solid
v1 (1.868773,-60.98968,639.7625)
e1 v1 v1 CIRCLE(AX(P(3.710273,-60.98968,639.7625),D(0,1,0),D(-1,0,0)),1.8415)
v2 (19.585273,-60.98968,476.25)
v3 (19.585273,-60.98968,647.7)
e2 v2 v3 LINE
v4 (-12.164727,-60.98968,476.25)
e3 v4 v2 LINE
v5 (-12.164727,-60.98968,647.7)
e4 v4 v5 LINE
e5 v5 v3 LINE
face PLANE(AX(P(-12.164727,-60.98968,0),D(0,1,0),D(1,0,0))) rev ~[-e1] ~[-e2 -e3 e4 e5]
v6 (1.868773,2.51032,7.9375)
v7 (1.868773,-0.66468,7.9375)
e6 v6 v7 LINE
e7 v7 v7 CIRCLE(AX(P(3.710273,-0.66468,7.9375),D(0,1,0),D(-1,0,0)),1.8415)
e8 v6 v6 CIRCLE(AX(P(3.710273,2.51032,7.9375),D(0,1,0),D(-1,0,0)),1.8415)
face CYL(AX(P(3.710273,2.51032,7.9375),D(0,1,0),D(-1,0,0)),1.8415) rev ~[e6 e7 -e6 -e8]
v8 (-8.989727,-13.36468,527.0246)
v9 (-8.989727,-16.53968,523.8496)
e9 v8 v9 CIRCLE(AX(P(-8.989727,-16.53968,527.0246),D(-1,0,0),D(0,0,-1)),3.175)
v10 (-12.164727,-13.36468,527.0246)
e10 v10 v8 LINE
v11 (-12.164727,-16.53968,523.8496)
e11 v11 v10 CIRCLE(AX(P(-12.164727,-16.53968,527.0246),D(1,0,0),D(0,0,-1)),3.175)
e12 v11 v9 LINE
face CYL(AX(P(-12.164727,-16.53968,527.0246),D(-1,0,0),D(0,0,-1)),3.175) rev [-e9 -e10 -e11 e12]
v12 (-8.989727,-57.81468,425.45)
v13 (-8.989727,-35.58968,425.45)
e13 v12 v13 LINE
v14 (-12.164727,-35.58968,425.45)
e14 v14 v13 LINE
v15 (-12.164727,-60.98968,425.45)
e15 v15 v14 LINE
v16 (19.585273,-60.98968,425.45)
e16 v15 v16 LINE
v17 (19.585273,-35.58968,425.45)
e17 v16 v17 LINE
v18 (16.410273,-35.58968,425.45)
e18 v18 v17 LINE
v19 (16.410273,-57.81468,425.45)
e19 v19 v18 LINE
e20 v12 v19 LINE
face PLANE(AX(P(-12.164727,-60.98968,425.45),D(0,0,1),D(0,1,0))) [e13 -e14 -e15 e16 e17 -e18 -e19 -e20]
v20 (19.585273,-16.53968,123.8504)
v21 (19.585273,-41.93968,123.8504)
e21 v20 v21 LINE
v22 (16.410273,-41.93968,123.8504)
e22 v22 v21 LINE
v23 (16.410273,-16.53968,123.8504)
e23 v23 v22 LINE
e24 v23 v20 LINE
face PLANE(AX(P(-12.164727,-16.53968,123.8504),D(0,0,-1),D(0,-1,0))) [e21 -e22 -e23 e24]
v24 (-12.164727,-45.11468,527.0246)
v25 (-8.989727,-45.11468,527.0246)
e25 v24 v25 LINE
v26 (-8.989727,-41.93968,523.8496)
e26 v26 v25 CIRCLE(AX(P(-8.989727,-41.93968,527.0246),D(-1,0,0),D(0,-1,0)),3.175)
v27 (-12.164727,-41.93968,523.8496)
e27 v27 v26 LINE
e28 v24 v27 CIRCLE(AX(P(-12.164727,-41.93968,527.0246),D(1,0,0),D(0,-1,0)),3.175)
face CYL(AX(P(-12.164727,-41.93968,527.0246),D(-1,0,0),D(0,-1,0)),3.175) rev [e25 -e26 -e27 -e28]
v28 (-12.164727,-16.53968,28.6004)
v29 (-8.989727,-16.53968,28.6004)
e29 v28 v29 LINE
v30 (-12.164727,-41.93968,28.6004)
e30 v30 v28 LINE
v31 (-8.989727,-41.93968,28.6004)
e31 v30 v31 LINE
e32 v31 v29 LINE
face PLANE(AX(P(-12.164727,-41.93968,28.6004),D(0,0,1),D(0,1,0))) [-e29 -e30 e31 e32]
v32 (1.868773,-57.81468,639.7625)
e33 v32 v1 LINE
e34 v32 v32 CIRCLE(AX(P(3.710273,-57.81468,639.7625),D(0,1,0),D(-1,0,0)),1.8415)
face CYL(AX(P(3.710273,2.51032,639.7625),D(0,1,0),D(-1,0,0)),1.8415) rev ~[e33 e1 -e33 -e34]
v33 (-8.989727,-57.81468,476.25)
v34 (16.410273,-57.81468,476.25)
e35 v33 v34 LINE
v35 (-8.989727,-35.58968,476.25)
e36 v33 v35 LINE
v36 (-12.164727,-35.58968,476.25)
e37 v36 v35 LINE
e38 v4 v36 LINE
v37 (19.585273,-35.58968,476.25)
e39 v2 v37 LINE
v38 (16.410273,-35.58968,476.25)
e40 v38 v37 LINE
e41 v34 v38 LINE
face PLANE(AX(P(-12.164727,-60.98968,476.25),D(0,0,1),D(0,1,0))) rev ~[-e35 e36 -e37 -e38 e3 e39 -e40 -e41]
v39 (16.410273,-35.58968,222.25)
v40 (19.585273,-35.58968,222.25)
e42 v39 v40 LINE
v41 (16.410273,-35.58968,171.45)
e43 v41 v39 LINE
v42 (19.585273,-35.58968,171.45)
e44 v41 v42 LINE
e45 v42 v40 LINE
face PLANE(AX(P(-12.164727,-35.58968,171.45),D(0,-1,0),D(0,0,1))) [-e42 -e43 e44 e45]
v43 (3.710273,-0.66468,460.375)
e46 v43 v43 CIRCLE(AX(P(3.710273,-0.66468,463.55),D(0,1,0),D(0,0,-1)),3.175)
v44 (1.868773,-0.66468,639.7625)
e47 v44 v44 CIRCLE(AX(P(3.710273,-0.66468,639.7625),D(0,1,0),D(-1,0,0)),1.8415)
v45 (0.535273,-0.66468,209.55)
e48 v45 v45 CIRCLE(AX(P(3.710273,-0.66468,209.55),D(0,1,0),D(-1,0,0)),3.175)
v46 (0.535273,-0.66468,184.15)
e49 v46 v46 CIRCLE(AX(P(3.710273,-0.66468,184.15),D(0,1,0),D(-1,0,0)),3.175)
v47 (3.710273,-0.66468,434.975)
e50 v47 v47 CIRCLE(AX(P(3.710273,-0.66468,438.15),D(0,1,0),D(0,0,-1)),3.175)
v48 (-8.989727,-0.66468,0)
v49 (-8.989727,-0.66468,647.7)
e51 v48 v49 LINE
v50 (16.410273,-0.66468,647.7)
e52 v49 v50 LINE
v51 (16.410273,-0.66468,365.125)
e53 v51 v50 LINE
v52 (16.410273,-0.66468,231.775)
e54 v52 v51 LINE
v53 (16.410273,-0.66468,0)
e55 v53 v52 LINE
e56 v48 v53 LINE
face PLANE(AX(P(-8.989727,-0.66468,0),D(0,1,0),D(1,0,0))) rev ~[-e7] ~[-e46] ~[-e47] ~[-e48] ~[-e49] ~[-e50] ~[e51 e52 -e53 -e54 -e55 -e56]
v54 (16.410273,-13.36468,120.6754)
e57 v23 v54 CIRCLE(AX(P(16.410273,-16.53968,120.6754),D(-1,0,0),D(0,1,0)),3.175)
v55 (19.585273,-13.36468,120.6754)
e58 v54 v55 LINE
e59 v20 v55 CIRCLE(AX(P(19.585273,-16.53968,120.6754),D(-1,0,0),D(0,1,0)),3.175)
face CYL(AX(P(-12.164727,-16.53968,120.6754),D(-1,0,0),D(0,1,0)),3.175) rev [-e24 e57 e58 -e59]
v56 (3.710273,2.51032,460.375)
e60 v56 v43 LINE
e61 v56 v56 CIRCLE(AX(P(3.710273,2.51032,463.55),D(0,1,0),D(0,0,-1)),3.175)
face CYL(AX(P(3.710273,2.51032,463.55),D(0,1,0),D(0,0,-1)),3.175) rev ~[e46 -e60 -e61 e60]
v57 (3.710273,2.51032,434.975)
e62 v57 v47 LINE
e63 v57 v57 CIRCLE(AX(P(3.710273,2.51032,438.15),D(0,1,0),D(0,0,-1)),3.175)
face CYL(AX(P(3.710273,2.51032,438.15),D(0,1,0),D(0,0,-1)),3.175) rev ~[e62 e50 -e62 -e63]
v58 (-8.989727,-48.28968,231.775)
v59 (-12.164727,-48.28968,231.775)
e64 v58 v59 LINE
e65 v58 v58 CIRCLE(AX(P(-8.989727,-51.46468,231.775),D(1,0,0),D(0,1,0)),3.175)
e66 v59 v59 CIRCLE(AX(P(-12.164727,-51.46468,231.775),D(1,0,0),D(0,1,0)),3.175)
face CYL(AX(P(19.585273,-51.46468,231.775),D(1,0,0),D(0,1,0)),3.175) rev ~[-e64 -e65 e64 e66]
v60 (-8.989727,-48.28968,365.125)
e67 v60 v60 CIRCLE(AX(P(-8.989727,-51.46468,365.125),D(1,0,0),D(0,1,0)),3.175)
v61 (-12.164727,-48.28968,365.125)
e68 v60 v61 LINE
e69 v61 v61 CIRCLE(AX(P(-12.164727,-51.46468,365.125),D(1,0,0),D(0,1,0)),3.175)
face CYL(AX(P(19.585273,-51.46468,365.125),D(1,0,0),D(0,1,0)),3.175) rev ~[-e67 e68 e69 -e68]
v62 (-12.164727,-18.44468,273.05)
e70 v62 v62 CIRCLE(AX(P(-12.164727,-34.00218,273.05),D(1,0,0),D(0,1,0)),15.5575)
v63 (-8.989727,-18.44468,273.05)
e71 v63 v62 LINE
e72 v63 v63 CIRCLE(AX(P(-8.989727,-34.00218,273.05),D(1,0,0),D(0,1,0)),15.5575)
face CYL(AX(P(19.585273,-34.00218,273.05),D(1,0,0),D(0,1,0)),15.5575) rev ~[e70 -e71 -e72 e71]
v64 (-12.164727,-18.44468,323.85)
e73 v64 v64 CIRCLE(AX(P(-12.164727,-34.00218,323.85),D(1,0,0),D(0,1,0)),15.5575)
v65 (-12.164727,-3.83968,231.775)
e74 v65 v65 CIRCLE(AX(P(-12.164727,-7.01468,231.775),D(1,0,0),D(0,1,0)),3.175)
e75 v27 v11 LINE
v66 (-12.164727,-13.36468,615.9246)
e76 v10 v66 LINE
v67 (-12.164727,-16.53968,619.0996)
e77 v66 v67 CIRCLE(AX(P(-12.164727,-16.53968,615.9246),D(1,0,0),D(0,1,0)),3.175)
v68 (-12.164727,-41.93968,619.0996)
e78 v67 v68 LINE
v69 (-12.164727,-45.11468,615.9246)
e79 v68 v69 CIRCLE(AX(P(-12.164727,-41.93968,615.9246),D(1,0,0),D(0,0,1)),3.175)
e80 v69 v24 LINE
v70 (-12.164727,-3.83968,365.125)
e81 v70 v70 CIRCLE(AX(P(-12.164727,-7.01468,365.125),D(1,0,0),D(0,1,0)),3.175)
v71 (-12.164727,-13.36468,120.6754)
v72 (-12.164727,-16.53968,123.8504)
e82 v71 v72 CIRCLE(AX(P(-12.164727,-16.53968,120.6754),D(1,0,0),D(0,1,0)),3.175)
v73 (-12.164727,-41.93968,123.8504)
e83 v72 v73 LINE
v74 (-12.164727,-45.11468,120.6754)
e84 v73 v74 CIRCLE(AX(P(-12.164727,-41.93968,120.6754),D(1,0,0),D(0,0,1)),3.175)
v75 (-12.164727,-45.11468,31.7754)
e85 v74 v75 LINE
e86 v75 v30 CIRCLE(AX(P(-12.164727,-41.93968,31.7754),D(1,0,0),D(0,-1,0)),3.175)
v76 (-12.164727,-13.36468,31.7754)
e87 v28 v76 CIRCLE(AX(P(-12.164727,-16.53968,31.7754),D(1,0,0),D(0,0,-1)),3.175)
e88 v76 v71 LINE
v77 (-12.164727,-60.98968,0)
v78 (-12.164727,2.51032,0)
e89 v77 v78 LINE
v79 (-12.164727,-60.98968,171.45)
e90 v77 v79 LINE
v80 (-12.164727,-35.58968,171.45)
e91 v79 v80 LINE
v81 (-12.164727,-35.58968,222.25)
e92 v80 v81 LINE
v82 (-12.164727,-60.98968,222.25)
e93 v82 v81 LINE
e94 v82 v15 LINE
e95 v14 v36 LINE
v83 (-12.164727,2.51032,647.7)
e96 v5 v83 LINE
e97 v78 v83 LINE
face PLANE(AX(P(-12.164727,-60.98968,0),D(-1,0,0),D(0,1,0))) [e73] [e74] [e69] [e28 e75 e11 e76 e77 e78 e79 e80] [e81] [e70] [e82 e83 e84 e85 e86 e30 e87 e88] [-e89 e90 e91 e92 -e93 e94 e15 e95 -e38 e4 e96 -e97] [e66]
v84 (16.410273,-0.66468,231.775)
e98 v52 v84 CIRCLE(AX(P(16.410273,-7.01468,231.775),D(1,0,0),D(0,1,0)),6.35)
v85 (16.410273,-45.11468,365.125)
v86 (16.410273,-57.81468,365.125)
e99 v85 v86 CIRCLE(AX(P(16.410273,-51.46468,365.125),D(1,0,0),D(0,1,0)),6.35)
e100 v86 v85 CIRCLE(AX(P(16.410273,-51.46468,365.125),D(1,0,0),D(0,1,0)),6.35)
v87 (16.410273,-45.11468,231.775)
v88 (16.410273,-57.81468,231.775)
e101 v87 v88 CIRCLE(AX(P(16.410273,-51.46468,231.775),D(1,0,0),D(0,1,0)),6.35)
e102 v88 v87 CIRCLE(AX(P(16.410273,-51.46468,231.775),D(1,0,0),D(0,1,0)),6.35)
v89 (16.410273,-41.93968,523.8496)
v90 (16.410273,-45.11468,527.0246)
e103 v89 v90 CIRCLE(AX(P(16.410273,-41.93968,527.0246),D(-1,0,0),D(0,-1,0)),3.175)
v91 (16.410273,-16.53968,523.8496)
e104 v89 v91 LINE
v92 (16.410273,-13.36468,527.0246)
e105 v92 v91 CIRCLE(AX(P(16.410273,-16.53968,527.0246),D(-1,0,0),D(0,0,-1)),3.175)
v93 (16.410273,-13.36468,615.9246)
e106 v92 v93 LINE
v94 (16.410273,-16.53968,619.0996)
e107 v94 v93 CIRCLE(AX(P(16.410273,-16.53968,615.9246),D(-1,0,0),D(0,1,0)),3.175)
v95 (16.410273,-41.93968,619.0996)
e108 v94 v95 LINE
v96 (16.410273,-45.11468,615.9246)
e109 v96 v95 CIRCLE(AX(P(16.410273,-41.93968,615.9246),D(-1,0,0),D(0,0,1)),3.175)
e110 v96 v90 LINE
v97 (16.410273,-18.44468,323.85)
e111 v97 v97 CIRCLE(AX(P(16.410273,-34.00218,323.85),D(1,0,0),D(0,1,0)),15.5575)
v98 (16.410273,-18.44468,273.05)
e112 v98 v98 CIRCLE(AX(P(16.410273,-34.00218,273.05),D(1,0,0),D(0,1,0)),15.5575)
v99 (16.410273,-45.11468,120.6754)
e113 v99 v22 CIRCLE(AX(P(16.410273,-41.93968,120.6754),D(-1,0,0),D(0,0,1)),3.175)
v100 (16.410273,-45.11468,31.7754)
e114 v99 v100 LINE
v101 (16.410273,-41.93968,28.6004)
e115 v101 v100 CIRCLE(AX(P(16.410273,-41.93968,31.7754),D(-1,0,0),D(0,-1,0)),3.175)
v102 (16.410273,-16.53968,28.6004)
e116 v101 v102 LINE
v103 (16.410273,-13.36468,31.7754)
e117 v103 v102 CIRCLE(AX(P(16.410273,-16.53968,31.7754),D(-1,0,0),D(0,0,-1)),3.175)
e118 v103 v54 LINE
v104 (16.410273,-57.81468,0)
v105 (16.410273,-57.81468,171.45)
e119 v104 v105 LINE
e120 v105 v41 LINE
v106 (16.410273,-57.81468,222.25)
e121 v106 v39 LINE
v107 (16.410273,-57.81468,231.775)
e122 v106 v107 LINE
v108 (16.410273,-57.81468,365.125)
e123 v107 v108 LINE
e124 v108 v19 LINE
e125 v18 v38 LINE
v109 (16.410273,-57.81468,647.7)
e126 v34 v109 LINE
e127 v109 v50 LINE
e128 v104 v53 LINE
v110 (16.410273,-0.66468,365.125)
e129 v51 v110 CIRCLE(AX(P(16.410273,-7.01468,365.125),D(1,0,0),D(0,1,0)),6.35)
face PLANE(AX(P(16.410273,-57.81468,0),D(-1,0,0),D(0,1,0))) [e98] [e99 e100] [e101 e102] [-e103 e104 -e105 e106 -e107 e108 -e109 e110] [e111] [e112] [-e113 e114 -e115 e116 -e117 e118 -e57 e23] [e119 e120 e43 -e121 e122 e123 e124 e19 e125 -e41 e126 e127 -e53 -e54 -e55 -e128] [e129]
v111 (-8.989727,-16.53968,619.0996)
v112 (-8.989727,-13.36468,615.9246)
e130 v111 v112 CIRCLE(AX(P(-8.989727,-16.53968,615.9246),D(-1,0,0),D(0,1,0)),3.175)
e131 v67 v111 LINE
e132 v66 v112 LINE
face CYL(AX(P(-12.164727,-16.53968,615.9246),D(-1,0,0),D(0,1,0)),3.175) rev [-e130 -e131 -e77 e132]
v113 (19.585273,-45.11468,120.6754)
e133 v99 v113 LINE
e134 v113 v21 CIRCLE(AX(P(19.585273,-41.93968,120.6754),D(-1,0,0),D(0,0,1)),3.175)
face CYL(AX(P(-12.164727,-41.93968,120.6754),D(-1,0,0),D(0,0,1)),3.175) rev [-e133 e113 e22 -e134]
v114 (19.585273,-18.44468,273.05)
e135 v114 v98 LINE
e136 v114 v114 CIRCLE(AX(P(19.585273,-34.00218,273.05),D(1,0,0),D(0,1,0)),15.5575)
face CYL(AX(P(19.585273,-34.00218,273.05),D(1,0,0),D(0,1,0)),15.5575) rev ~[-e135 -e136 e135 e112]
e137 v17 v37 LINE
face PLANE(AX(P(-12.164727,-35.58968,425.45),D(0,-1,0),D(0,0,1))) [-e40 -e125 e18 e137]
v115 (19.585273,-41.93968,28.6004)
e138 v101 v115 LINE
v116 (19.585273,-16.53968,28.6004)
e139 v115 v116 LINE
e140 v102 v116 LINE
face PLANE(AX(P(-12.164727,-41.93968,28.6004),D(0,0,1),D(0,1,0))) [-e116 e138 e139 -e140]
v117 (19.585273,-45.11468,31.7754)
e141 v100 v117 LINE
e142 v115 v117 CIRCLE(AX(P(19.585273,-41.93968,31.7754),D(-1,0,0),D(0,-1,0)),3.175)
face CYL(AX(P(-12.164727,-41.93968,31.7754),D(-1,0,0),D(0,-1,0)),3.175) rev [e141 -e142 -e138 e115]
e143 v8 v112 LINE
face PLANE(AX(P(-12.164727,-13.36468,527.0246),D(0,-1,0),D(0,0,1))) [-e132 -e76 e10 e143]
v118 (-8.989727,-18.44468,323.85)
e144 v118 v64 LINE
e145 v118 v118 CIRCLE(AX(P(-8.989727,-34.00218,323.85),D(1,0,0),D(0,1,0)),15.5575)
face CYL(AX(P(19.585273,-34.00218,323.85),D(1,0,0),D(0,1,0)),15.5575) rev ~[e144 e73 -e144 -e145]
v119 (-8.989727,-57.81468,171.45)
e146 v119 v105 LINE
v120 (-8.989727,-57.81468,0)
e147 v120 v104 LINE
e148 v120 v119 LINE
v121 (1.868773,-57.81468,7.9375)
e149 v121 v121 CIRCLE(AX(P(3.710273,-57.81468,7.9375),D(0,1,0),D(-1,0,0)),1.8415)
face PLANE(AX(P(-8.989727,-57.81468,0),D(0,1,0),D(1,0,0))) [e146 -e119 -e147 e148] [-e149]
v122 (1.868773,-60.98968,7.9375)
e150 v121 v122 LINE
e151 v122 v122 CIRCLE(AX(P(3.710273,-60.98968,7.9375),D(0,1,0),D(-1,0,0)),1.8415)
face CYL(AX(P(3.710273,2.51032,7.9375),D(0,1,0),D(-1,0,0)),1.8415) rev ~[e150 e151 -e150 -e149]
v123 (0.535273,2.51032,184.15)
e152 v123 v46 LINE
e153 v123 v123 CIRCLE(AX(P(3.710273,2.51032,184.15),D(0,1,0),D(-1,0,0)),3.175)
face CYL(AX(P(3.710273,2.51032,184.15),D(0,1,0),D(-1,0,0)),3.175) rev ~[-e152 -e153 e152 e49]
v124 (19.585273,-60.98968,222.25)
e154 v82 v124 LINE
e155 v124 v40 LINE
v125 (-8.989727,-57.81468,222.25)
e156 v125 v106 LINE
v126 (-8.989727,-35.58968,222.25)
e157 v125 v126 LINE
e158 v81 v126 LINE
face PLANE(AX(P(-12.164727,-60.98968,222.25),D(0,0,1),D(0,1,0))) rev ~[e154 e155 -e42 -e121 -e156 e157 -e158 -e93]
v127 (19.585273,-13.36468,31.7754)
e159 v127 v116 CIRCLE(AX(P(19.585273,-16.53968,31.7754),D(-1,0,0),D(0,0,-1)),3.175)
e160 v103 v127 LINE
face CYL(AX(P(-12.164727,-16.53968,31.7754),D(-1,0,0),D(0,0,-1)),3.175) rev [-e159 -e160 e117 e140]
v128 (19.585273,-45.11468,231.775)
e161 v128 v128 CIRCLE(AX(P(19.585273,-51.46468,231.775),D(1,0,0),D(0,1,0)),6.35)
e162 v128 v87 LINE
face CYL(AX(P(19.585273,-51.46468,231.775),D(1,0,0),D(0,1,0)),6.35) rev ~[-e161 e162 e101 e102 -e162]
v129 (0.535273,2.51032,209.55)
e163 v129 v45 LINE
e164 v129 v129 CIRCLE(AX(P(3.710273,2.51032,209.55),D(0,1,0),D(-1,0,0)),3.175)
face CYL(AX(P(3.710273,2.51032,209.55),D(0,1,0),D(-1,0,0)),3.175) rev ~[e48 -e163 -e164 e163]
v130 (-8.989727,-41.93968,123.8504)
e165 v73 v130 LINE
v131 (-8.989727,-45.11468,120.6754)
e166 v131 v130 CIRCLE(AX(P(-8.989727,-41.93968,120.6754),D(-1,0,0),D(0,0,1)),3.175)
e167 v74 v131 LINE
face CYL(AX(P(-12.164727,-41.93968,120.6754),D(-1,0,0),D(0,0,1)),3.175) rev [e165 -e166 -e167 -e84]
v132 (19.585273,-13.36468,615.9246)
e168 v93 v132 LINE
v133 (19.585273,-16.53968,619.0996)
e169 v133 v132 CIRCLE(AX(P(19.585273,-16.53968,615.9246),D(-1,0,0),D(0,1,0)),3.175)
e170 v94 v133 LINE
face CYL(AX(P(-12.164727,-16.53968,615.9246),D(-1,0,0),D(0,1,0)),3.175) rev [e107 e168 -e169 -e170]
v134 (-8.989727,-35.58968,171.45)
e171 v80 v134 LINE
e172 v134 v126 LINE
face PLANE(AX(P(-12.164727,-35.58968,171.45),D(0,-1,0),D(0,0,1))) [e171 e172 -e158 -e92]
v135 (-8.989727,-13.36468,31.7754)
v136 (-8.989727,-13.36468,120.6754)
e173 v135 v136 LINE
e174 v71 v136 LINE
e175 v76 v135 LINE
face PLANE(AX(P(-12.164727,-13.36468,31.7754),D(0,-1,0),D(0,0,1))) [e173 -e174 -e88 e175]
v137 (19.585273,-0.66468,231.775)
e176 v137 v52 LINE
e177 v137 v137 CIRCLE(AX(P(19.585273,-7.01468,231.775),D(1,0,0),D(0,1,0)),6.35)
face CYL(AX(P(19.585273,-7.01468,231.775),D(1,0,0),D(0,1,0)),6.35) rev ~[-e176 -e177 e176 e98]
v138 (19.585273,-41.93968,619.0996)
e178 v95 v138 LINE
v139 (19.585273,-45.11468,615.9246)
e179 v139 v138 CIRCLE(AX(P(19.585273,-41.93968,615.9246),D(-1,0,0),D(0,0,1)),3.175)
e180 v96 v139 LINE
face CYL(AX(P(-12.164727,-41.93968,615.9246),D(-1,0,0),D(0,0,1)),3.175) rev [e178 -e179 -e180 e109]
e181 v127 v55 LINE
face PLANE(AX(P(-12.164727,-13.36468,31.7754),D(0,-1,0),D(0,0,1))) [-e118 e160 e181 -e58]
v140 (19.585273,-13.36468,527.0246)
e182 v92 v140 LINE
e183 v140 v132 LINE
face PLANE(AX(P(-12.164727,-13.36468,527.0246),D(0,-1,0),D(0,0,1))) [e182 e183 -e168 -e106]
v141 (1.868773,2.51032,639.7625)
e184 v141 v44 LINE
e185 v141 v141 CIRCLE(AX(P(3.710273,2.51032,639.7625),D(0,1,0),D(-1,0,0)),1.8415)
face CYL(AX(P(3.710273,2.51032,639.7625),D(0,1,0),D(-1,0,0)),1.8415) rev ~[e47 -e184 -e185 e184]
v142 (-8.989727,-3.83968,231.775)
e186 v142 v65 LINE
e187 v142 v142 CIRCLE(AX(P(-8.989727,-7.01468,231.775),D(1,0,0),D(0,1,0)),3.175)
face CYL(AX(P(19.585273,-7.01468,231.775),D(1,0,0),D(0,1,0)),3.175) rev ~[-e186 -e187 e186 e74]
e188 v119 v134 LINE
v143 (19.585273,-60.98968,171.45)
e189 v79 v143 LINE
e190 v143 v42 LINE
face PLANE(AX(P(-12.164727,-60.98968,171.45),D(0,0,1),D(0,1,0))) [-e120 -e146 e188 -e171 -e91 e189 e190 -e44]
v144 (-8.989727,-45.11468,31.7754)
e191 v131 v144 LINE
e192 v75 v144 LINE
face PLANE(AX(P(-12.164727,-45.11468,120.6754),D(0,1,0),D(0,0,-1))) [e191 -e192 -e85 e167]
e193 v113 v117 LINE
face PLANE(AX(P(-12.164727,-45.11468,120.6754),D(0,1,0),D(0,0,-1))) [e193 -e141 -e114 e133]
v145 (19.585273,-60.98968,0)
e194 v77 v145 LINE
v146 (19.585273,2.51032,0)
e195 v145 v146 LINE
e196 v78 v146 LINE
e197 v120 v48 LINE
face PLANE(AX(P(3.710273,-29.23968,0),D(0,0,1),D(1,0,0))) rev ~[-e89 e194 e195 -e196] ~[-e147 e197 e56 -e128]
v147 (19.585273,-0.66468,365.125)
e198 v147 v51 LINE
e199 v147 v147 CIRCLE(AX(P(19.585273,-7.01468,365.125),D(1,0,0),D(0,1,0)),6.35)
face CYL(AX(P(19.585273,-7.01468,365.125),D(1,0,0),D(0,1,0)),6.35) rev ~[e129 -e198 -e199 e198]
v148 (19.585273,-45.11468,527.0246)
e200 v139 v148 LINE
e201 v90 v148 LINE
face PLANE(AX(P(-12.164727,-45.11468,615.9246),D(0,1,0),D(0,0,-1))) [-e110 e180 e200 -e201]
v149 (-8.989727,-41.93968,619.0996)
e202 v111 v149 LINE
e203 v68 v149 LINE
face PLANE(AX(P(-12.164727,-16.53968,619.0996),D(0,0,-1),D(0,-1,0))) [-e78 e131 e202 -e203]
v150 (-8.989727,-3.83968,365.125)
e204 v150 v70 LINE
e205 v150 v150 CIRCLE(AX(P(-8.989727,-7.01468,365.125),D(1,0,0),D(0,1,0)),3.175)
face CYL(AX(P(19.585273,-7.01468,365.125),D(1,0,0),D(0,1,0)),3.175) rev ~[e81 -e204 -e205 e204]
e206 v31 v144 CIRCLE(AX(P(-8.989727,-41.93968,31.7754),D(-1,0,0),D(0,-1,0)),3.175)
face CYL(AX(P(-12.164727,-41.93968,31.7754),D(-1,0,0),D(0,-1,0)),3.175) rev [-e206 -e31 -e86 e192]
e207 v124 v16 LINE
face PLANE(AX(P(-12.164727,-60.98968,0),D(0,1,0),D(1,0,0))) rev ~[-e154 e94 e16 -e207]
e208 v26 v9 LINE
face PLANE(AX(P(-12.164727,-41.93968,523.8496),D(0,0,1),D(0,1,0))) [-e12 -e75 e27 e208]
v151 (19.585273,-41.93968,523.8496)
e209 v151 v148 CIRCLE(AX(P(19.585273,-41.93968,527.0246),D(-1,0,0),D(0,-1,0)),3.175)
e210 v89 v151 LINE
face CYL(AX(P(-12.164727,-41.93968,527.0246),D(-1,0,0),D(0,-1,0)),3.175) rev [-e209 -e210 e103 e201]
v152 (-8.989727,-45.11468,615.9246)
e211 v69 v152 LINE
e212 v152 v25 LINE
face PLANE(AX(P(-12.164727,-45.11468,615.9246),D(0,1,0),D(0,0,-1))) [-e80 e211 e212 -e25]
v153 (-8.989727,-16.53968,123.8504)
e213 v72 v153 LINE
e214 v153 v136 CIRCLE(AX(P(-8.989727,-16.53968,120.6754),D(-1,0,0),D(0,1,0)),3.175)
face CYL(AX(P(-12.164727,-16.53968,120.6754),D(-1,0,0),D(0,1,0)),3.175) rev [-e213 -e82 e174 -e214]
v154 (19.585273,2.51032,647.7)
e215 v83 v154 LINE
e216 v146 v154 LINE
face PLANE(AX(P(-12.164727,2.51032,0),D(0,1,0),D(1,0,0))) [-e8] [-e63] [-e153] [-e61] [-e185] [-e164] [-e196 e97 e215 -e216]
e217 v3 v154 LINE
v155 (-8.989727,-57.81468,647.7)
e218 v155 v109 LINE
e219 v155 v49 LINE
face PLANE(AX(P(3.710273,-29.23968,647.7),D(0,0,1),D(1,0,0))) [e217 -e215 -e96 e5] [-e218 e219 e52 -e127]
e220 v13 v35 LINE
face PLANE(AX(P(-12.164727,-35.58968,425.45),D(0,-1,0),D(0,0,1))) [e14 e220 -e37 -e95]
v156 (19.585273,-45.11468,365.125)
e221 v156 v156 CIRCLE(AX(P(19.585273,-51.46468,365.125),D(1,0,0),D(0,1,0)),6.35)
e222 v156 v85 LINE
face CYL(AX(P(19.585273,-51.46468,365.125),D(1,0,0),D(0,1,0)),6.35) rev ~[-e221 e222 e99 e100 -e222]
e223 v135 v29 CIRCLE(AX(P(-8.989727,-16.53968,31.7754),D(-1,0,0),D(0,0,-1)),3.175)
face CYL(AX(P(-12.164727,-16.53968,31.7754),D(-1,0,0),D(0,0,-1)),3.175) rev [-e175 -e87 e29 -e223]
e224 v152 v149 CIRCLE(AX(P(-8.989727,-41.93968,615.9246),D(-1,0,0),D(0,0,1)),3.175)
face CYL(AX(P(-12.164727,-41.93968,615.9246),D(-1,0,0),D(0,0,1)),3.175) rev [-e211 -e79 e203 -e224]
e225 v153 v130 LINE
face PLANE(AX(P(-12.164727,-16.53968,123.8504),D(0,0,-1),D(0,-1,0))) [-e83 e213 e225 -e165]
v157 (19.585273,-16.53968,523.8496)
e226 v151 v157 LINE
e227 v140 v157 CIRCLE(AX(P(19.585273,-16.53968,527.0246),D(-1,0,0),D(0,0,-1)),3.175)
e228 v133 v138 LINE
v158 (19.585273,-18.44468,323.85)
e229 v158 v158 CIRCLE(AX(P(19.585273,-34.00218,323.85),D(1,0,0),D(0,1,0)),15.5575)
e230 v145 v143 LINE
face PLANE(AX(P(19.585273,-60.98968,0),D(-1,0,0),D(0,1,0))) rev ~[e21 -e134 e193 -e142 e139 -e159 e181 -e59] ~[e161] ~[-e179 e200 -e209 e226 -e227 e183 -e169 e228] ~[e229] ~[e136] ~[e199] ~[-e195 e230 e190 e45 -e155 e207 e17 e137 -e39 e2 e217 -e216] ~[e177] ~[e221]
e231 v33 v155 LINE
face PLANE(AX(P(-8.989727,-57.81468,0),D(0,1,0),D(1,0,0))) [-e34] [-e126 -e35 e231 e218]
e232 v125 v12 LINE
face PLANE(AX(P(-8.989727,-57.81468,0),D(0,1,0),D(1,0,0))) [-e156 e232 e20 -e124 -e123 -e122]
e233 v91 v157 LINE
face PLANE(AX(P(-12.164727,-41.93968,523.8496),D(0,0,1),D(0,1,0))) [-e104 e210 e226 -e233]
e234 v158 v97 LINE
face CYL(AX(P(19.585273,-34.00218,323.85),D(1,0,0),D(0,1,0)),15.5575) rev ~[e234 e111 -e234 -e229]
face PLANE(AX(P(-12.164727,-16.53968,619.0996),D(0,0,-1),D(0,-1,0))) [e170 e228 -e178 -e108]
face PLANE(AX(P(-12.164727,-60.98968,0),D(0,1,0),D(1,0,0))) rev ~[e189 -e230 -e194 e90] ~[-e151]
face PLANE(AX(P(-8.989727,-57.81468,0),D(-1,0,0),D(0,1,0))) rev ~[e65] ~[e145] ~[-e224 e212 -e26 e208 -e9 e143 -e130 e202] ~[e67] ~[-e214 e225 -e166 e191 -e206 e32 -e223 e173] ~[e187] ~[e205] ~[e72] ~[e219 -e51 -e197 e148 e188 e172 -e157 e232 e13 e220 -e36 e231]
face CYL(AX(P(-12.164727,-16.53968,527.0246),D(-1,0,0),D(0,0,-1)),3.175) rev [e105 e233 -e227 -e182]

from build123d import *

# Parameters (mm, degrees)
SKETCH1_W           = 31.75
SKETCH1_H           = 63.5
SKETCH1_W_2         = 25.4
SKETCH1_H_2         = 57.15
BOSS_EXTRUDE1_DEPTH = 647.7
CUT_EXTRUDE1_REACH  = 653.339
SKETCH3_W           = 50.8
SKETCH3_H           = 25.4
CUT_EXTRUDE2_REACH  = 653.339
SKETCH6_R           = 15.5575
SKETCH6_R_2         = 3.175
CUT_EXTRUDE3_REACH  = 653.339
SKETCH7_R           = 6.35
SKETCH8_R           = 3.175
CUT_EXTRUDE4_DEPTH  = 652.099933119
CUT_EXTRUDE5_REACH  = 653.1
SKETCH9_R           = 1.8415


with BuildPart() as part:
    # Sketch1 → Boss-Extrude1 (new body)
    with BuildSketch(Plane.XY):
        with Locations((3.710272719, -29.23968021)):
            Rectangle(SKETCH1_W, SKETCH1_H)
        with Locations((3.710272719, -29.23968021)):
            Rectangle(SKETCH1_W_2, SKETCH1_H_2, mode=Mode.SUBTRACT)
    extrude(amount=BOSS_EXTRUDE1_DEPTH)

    # Cut-Extrude1: up to this face of the body (flat: up to its plane)
    cut_extrude1_end = Plane(part.part.faces().sort_by_distance((19.585272719, -29.23968021, 323.85))[0])
    # Sketch3 → Cut-Extrude1 (cut, up to the picked face)
    with BuildSketch(Plane.ZY.offset(12.164727281), mode=Mode.PRIVATE) as cut_extrude1_sk1:
        with BuildLine():
            Line((31.7754, -13.36468021), (120.6754, -13.36468021))
            ThreePointArc((120.6754, -13.36468021), (122.92046403, -14.294616179), (123.8504, -16.53968021))
            Line((123.8504, -16.53968021), (123.8504, -41.93968021))
            ThreePointArc((123.8504, -41.93968021), (122.92046403, -44.18474424), (120.6754, -45.11468021))
            Line((120.6754, -45.11468021), (31.7754, -45.11468021))
            ThreePointArc((31.7754, -45.11468021), (29.53033597, -44.18474424), (28.6004, -41.93968021))
            Line((28.6004, -41.93968021), (28.6004, -16.53968021))
            ThreePointArc((28.6004, -16.53968021), (29.53033597, -14.294616179), (31.7754, -13.36468021))
        make_face()
    cut_extrude1_tool1 = split(extrude(cut_extrude1_sk1.sketch, amount=-CUT_EXTRUDE1_REACH, mode=Mode.PRIVATE), bisect_by=cut_extrude1_end, keep=Keep.BOTH, mode=Mode.PRIVATE)
    # Sketch3 → Cut-Extrude1 (cut, up to the picked face)
    with BuildSketch(Plane.ZY.offset(12.164727281), mode=Mode.PRIVATE) as cut_extrude1_sk2:
        with BuildLine():
            ThreePointArc((619.0996, -41.93968021), (618.16966403, -44.18474424), (615.9246, -45.11468021))
            Line((615.9246, -45.11468021), (527.0246, -45.11468021))
            ThreePointArc((527.0246, -45.11468021), (524.77953597, -44.18474424), (523.8496, -41.93968021))
            Line((523.8496, -41.93968021), (523.8496, -16.53968021))
            ThreePointArc((523.8496, -16.53968021), (524.77953597, -14.294616179), (527.0246, -13.36468021))
            Line((527.0246, -13.36468021), (615.9246, -13.36468021))
            ThreePointArc((615.9246, -13.36468021), (618.16966403, -14.294616179), (619.0996, -16.53968021))
            Line((619.0996, -16.53968021), (619.0996, -41.93968021))
        make_face()
    cut_extrude1_tool2 = split(extrude(cut_extrude1_sk2.sketch, amount=-CUT_EXTRUDE1_REACH, mode=Mode.PRIVATE), bisect_by=cut_extrude1_end, keep=Keep.BOTH, mode=Mode.PRIVATE)
    # Sketch3 → Cut-Extrude1 (cut, up to the picked face)
    with BuildSketch(Plane.ZY.offset(12.164727281), mode=Mode.PRIVATE) as cut_extrude1_sk3:
        with Locations((196.85, -48.28968021)):
            Rectangle(SKETCH3_W, SKETCH3_H)
    cut_extrude1_tool3 = split(extrude(cut_extrude1_sk3.sketch, amount=-CUT_EXTRUDE1_REACH, mode=Mode.PRIVATE), bisect_by=cut_extrude1_end, keep=Keep.BOTH, mode=Mode.PRIVATE)
    # Sketch3 → Cut-Extrude1 (cut, up to the picked face)
    with BuildSketch(Plane.ZY.offset(12.164727281), mode=Mode.PRIVATE) as cut_extrude1_sk4:
        with Locations((450.85, -48.28968021)):
            Rectangle(SKETCH3_W, SKETCH3_H)
    cut_extrude1_tool4 = split(extrude(cut_extrude1_sk4.sketch, amount=-CUT_EXTRUDE1_REACH, mode=Mode.PRIVATE), bisect_by=cut_extrude1_end, keep=Keep.BOTH, mode=Mode.PRIVATE)
    add(cut_extrude1_tool1.solids().sort_by(Axis((-12.164727, -29.23968, 76.2254), (1, 0, 0)))[0], mode=Mode.SUBTRACT)
    add(cut_extrude1_tool2.solids().sort_by(Axis((-12.164727, -29.23968, 571.4746), (1, 0, 0)))[0], mode=Mode.SUBTRACT)
    add(cut_extrude1_tool3.solids().sort_by(Axis((-12.164727, -48.28968, 196.85), (1, 0, 0)))[0], mode=Mode.SUBTRACT)
    add(cut_extrude1_tool4.solids().sort_by(Axis((-12.164727, -48.28968, 450.85), (1, 0, 0)))[0], mode=Mode.SUBTRACT)

    # Cut-Extrude2: up to this face of the body (flat: up to its plane)
    cut_extrude2_end = Plane(part.part.faces().sort_by_distance((-12.164727281, -27.727830199, 323.85))[0])
    # Sketch6 → Cut-Extrude2 (cut, up to the picked face)
    with BuildSketch(Plane(origin=(19.585272719, 0, 0), x_dir=(0, 0, -1), z_dir=(1, 0, 0)), mode=Mode.PRIVATE) as cut_extrude2_sk1:
        with Locations(Location((-323.85, -34.00218021, 0), (0, 0, 90))):
            Circle(SKETCH6_R)
    cut_extrude2_tool1 = split(extrude(cut_extrude2_sk1.sketch, amount=-CUT_EXTRUDE2_REACH, mode=Mode.PRIVATE), bisect_by=cut_extrude2_end, keep=Keep.BOTH, mode=Mode.PRIVATE)
    # Sketch6 → Cut-Extrude2 (cut, up to the picked face)
    with BuildSketch(Plane(origin=(19.585272719, 0, 0), x_dir=(0, 0, -1), z_dir=(1, 0, 0)), mode=Mode.PRIVATE) as cut_extrude2_sk2:
        with Locations(Location((-273.05, -34.00218021, 0), (0, 0, 90))):
            Circle(SKETCH6_R)
    cut_extrude2_tool2 = split(extrude(cut_extrude2_sk2.sketch, amount=-CUT_EXTRUDE2_REACH, mode=Mode.PRIVATE), bisect_by=cut_extrude2_end, keep=Keep.BOTH, mode=Mode.PRIVATE)
    # Sketch6 → Cut-Extrude2 (cut, up to the picked face)
    with BuildSketch(Plane(origin=(19.585272719, 0, 0), x_dir=(0, 0, -1), z_dir=(1, 0, 0)), mode=Mode.PRIVATE) as cut_extrude2_sk3:
        with Locations(Location((-365.125, -7.01468021, 0), (0, 0, 90))):
            Circle(SKETCH6_R_2)
    cut_extrude2_tool3 = split(extrude(cut_extrude2_sk3.sketch, amount=-CUT_EXTRUDE2_REACH, mode=Mode.PRIVATE), bisect_by=cut_extrude2_end, keep=Keep.BOTH, mode=Mode.PRIVATE)
    # Sketch6 → Cut-Extrude2 (cut, up to the picked face)
    with BuildSketch(Plane(origin=(19.585272719, 0, 0), x_dir=(0, 0, -1), z_dir=(1, 0, 0)), mode=Mode.PRIVATE) as cut_extrude2_sk4:
        with Locations(Location((-231.775, -7.01468021, 0), (0, 0, 90))):
            Circle(SKETCH6_R_2)
    cut_extrude2_tool4 = split(extrude(cut_extrude2_sk4.sketch, amount=-CUT_EXTRUDE2_REACH, mode=Mode.PRIVATE), bisect_by=cut_extrude2_end, keep=Keep.BOTH, mode=Mode.PRIVATE)
    # Sketch6 → Cut-Extrude2 (cut, up to the picked face)
    with BuildSketch(Plane(origin=(19.585272719, 0, 0), x_dir=(0, 0, -1), z_dir=(1, 0, 0)), mode=Mode.PRIVATE) as cut_extrude2_sk5:
        with Locations(Location((-365.125, -51.46468021, 0), (0, 0, 90))):
            Circle(SKETCH6_R_2)
    cut_extrude2_tool5 = split(extrude(cut_extrude2_sk5.sketch, amount=-CUT_EXTRUDE2_REACH, mode=Mode.PRIVATE), bisect_by=cut_extrude2_end, keep=Keep.BOTH, mode=Mode.PRIVATE)
    # Sketch6 → Cut-Extrude2 (cut, up to the picked face)
    with BuildSketch(Plane(origin=(19.585272719, 0, 0), x_dir=(0, 0, -1), z_dir=(1, 0, 0)), mode=Mode.PRIVATE) as cut_extrude2_sk6:
        with Locations(Location((-231.775, -51.46468021, 0), (0, 0, 90))):
            Circle(SKETCH6_R_2)
    cut_extrude2_tool6 = split(extrude(cut_extrude2_sk6.sketch, amount=-CUT_EXTRUDE2_REACH, mode=Mode.PRIVATE), bisect_by=cut_extrude2_end, keep=Keep.BOTH, mode=Mode.PRIVATE)
    add(cut_extrude2_tool1.solids().sort_by(Axis((19.585273, -34.00218, 323.85), (-1, 0, 0)))[0], mode=Mode.SUBTRACT)
    add(cut_extrude2_tool2.solids().sort_by(Axis((19.585273, -34.00218, 273.05), (-1, 0, 0)))[0], mode=Mode.SUBTRACT)
    add(cut_extrude2_tool3.solids().sort_by(Axis((19.585273, -7.01468, 365.125), (-1, 0, 0)))[0], mode=Mode.SUBTRACT)
    add(cut_extrude2_tool4.solids().sort_by(Axis((19.585273, -7.01468, 231.775), (-1, 0, 0)))[0], mode=Mode.SUBTRACT)
    add(cut_extrude2_tool5.solids().sort_by(Axis((19.585273, -51.46468, 365.125), (-1, 0, 0)))[0], mode=Mode.SUBTRACT)
    add(cut_extrude2_tool6.solids().sort_by(Axis((19.585273, -51.46468, 231.775), (-1, 0, 0)))[0], mode=Mode.SUBTRACT)

    # Sketch7 → Cut-Extrude3 (cut, up to next)
    with BuildSketch(Plane(origin=(19.585272719, 0, 0), x_dir=(0, 0, -1), z_dir=(1, 0, 0)), mode=Mode.PRIVATE) as cut_extrude3_sk1:
        with Locations(Location((-365.125, -7.01468021, 0), (0, 0, 90))):
            Circle(SKETCH7_R)
    cut_extrude3_tool1 = extrude(cut_extrude3_sk1.sketch, amount=-CUT_EXTRUDE3_REACH, mode=Mode.PRIVATE) & part.part
    # Sketch7 → Cut-Extrude3 (cut, up to next)
    with BuildSketch(Plane(origin=(19.585272719, 0, 0), x_dir=(0, 0, -1), z_dir=(1, 0, 0)), mode=Mode.PRIVATE) as cut_extrude3_sk2:
        with Locations(Location((-365.125, -51.46468021, 0), (0, 0, 90))):
            Circle(SKETCH7_R)
    cut_extrude3_tool2 = extrude(cut_extrude3_sk2.sketch, amount=-CUT_EXTRUDE3_REACH, mode=Mode.PRIVATE) & part.part
    # Sketch7 → Cut-Extrude3 (cut, up to next)
    with BuildSketch(Plane(origin=(19.585272719, 0, 0), x_dir=(0, 0, -1), z_dir=(1, 0, 0)), mode=Mode.PRIVATE) as cut_extrude3_sk3:
        with Locations(Location((-231.775, -51.46468021, 0), (0, 0, 90))):
            Circle(SKETCH7_R)
    cut_extrude3_tool3 = extrude(cut_extrude3_sk3.sketch, amount=-CUT_EXTRUDE3_REACH, mode=Mode.PRIVATE) & part.part
    # Sketch7 → Cut-Extrude3 (cut, up to next)
    with BuildSketch(Plane(origin=(19.585272719, 0, 0), x_dir=(0, 0, -1), z_dir=(1, 0, 0)), mode=Mode.PRIVATE) as cut_extrude3_sk4:
        with Locations(Location((-231.775, -7.01468021, 0), (0, 0, 90))):
            Circle(SKETCH7_R)
    cut_extrude3_tool4 = extrude(cut_extrude3_sk4.sketch, amount=-CUT_EXTRUDE3_REACH, mode=Mode.PRIVATE) & part.part
    add(cut_extrude3_tool1.solids().sort_by_distance((19.585273, -7.01468, 365.125))[0], mode=Mode.SUBTRACT)
    add(cut_extrude3_tool2.solids().sort_by_distance((19.585273, -51.46468, 365.125))[0], mode=Mode.SUBTRACT)
    add(cut_extrude3_tool3.solids().sort_by_distance((19.585273, -51.46468, 231.775))[0], mode=Mode.SUBTRACT)
    add(cut_extrude3_tool4.solids().sort_by_distance((19.585273, -7.01468, 231.775))[0], mode=Mode.SUBTRACT)

    # Sketch8 → Cut-Extrude4 (cut, through all)
    with BuildSketch(Plane(origin=(0, 2.51031979, 0), x_dir=(1, 0, 0), z_dir=(0, 1, 0))):
        with Locations(Location((3.710272719, -184.15, 0), (0, 0, 180))):
            Circle(SKETCH8_R)
        with Locations(Location((3.710272719, -209.55, 0), (0, 0, 180))):
            Circle(SKETCH8_R)
        with Locations(Location((3.710272719, -438.15, 0), (0, 0, 90))):
            Circle(SKETCH8_R)
        with Locations(Location((3.710272719, -463.55, 0), (0, 0, 90))):
            Circle(SKETCH8_R)
    extrude(amount=-CUT_EXTRUDE4_DEPTH, mode=Mode.SUBTRACT)

    # Cut-Extrude5: up to this face of the body (flat: up to its plane)
    cut_extrude5_end = Plane(part.part.faces().sort_by_distance((3.710272719, -60.98968021, 561.975))[0])
    # Sketch9 → Cut-Extrude5 (cut, up to the picked face)
    with BuildSketch(Plane(origin=(0, 2.51031979, 0), x_dir=(1, 0, 0), z_dir=(0, 1, 0)), mode=Mode.PRIVATE) as cut_extrude5_sk1:
        with Locations(Location((3.710272719, -639.7625, 0), (0, 0, 180))):
            Circle(SKETCH9_R)
    cut_extrude5_tool1 = split(extrude(cut_extrude5_sk1.sketch, amount=-CUT_EXTRUDE5_REACH, mode=Mode.PRIVATE), bisect_by=cut_extrude5_end, keep=Keep.BOTH, mode=Mode.PRIVATE)
    # Sketch9 → Cut-Extrude5 (cut, up to the picked face)
    with BuildSketch(Plane(origin=(0, 2.51031979, 0), x_dir=(1, 0, 0), z_dir=(0, 1, 0)), mode=Mode.PRIVATE) as cut_extrude5_sk2:
        with Locations(Location((3.710272719, -7.9375, 0), (0, 0, 180))):
            Circle(SKETCH9_R)
    cut_extrude5_tool2 = split(extrude(cut_extrude5_sk2.sketch, amount=-CUT_EXTRUDE5_REACH, mode=Mode.PRIVATE), bisect_by=cut_extrude5_end, keep=Keep.BOTH, mode=Mode.PRIVATE)
    add(cut_extrude5_tool1.solids().sort_by(Axis((3.710273, 2.51032, 639.7625), (0, -1, 0)))[0], mode=Mode.SUBTRACT)
    add(cut_extrude5_tool2.solids().sort_by(Axis((3.710273, 2.51032, 7.9375), (0, -1, 0)))[0], mode=Mode.SUBTRACT)


solid = part.part
